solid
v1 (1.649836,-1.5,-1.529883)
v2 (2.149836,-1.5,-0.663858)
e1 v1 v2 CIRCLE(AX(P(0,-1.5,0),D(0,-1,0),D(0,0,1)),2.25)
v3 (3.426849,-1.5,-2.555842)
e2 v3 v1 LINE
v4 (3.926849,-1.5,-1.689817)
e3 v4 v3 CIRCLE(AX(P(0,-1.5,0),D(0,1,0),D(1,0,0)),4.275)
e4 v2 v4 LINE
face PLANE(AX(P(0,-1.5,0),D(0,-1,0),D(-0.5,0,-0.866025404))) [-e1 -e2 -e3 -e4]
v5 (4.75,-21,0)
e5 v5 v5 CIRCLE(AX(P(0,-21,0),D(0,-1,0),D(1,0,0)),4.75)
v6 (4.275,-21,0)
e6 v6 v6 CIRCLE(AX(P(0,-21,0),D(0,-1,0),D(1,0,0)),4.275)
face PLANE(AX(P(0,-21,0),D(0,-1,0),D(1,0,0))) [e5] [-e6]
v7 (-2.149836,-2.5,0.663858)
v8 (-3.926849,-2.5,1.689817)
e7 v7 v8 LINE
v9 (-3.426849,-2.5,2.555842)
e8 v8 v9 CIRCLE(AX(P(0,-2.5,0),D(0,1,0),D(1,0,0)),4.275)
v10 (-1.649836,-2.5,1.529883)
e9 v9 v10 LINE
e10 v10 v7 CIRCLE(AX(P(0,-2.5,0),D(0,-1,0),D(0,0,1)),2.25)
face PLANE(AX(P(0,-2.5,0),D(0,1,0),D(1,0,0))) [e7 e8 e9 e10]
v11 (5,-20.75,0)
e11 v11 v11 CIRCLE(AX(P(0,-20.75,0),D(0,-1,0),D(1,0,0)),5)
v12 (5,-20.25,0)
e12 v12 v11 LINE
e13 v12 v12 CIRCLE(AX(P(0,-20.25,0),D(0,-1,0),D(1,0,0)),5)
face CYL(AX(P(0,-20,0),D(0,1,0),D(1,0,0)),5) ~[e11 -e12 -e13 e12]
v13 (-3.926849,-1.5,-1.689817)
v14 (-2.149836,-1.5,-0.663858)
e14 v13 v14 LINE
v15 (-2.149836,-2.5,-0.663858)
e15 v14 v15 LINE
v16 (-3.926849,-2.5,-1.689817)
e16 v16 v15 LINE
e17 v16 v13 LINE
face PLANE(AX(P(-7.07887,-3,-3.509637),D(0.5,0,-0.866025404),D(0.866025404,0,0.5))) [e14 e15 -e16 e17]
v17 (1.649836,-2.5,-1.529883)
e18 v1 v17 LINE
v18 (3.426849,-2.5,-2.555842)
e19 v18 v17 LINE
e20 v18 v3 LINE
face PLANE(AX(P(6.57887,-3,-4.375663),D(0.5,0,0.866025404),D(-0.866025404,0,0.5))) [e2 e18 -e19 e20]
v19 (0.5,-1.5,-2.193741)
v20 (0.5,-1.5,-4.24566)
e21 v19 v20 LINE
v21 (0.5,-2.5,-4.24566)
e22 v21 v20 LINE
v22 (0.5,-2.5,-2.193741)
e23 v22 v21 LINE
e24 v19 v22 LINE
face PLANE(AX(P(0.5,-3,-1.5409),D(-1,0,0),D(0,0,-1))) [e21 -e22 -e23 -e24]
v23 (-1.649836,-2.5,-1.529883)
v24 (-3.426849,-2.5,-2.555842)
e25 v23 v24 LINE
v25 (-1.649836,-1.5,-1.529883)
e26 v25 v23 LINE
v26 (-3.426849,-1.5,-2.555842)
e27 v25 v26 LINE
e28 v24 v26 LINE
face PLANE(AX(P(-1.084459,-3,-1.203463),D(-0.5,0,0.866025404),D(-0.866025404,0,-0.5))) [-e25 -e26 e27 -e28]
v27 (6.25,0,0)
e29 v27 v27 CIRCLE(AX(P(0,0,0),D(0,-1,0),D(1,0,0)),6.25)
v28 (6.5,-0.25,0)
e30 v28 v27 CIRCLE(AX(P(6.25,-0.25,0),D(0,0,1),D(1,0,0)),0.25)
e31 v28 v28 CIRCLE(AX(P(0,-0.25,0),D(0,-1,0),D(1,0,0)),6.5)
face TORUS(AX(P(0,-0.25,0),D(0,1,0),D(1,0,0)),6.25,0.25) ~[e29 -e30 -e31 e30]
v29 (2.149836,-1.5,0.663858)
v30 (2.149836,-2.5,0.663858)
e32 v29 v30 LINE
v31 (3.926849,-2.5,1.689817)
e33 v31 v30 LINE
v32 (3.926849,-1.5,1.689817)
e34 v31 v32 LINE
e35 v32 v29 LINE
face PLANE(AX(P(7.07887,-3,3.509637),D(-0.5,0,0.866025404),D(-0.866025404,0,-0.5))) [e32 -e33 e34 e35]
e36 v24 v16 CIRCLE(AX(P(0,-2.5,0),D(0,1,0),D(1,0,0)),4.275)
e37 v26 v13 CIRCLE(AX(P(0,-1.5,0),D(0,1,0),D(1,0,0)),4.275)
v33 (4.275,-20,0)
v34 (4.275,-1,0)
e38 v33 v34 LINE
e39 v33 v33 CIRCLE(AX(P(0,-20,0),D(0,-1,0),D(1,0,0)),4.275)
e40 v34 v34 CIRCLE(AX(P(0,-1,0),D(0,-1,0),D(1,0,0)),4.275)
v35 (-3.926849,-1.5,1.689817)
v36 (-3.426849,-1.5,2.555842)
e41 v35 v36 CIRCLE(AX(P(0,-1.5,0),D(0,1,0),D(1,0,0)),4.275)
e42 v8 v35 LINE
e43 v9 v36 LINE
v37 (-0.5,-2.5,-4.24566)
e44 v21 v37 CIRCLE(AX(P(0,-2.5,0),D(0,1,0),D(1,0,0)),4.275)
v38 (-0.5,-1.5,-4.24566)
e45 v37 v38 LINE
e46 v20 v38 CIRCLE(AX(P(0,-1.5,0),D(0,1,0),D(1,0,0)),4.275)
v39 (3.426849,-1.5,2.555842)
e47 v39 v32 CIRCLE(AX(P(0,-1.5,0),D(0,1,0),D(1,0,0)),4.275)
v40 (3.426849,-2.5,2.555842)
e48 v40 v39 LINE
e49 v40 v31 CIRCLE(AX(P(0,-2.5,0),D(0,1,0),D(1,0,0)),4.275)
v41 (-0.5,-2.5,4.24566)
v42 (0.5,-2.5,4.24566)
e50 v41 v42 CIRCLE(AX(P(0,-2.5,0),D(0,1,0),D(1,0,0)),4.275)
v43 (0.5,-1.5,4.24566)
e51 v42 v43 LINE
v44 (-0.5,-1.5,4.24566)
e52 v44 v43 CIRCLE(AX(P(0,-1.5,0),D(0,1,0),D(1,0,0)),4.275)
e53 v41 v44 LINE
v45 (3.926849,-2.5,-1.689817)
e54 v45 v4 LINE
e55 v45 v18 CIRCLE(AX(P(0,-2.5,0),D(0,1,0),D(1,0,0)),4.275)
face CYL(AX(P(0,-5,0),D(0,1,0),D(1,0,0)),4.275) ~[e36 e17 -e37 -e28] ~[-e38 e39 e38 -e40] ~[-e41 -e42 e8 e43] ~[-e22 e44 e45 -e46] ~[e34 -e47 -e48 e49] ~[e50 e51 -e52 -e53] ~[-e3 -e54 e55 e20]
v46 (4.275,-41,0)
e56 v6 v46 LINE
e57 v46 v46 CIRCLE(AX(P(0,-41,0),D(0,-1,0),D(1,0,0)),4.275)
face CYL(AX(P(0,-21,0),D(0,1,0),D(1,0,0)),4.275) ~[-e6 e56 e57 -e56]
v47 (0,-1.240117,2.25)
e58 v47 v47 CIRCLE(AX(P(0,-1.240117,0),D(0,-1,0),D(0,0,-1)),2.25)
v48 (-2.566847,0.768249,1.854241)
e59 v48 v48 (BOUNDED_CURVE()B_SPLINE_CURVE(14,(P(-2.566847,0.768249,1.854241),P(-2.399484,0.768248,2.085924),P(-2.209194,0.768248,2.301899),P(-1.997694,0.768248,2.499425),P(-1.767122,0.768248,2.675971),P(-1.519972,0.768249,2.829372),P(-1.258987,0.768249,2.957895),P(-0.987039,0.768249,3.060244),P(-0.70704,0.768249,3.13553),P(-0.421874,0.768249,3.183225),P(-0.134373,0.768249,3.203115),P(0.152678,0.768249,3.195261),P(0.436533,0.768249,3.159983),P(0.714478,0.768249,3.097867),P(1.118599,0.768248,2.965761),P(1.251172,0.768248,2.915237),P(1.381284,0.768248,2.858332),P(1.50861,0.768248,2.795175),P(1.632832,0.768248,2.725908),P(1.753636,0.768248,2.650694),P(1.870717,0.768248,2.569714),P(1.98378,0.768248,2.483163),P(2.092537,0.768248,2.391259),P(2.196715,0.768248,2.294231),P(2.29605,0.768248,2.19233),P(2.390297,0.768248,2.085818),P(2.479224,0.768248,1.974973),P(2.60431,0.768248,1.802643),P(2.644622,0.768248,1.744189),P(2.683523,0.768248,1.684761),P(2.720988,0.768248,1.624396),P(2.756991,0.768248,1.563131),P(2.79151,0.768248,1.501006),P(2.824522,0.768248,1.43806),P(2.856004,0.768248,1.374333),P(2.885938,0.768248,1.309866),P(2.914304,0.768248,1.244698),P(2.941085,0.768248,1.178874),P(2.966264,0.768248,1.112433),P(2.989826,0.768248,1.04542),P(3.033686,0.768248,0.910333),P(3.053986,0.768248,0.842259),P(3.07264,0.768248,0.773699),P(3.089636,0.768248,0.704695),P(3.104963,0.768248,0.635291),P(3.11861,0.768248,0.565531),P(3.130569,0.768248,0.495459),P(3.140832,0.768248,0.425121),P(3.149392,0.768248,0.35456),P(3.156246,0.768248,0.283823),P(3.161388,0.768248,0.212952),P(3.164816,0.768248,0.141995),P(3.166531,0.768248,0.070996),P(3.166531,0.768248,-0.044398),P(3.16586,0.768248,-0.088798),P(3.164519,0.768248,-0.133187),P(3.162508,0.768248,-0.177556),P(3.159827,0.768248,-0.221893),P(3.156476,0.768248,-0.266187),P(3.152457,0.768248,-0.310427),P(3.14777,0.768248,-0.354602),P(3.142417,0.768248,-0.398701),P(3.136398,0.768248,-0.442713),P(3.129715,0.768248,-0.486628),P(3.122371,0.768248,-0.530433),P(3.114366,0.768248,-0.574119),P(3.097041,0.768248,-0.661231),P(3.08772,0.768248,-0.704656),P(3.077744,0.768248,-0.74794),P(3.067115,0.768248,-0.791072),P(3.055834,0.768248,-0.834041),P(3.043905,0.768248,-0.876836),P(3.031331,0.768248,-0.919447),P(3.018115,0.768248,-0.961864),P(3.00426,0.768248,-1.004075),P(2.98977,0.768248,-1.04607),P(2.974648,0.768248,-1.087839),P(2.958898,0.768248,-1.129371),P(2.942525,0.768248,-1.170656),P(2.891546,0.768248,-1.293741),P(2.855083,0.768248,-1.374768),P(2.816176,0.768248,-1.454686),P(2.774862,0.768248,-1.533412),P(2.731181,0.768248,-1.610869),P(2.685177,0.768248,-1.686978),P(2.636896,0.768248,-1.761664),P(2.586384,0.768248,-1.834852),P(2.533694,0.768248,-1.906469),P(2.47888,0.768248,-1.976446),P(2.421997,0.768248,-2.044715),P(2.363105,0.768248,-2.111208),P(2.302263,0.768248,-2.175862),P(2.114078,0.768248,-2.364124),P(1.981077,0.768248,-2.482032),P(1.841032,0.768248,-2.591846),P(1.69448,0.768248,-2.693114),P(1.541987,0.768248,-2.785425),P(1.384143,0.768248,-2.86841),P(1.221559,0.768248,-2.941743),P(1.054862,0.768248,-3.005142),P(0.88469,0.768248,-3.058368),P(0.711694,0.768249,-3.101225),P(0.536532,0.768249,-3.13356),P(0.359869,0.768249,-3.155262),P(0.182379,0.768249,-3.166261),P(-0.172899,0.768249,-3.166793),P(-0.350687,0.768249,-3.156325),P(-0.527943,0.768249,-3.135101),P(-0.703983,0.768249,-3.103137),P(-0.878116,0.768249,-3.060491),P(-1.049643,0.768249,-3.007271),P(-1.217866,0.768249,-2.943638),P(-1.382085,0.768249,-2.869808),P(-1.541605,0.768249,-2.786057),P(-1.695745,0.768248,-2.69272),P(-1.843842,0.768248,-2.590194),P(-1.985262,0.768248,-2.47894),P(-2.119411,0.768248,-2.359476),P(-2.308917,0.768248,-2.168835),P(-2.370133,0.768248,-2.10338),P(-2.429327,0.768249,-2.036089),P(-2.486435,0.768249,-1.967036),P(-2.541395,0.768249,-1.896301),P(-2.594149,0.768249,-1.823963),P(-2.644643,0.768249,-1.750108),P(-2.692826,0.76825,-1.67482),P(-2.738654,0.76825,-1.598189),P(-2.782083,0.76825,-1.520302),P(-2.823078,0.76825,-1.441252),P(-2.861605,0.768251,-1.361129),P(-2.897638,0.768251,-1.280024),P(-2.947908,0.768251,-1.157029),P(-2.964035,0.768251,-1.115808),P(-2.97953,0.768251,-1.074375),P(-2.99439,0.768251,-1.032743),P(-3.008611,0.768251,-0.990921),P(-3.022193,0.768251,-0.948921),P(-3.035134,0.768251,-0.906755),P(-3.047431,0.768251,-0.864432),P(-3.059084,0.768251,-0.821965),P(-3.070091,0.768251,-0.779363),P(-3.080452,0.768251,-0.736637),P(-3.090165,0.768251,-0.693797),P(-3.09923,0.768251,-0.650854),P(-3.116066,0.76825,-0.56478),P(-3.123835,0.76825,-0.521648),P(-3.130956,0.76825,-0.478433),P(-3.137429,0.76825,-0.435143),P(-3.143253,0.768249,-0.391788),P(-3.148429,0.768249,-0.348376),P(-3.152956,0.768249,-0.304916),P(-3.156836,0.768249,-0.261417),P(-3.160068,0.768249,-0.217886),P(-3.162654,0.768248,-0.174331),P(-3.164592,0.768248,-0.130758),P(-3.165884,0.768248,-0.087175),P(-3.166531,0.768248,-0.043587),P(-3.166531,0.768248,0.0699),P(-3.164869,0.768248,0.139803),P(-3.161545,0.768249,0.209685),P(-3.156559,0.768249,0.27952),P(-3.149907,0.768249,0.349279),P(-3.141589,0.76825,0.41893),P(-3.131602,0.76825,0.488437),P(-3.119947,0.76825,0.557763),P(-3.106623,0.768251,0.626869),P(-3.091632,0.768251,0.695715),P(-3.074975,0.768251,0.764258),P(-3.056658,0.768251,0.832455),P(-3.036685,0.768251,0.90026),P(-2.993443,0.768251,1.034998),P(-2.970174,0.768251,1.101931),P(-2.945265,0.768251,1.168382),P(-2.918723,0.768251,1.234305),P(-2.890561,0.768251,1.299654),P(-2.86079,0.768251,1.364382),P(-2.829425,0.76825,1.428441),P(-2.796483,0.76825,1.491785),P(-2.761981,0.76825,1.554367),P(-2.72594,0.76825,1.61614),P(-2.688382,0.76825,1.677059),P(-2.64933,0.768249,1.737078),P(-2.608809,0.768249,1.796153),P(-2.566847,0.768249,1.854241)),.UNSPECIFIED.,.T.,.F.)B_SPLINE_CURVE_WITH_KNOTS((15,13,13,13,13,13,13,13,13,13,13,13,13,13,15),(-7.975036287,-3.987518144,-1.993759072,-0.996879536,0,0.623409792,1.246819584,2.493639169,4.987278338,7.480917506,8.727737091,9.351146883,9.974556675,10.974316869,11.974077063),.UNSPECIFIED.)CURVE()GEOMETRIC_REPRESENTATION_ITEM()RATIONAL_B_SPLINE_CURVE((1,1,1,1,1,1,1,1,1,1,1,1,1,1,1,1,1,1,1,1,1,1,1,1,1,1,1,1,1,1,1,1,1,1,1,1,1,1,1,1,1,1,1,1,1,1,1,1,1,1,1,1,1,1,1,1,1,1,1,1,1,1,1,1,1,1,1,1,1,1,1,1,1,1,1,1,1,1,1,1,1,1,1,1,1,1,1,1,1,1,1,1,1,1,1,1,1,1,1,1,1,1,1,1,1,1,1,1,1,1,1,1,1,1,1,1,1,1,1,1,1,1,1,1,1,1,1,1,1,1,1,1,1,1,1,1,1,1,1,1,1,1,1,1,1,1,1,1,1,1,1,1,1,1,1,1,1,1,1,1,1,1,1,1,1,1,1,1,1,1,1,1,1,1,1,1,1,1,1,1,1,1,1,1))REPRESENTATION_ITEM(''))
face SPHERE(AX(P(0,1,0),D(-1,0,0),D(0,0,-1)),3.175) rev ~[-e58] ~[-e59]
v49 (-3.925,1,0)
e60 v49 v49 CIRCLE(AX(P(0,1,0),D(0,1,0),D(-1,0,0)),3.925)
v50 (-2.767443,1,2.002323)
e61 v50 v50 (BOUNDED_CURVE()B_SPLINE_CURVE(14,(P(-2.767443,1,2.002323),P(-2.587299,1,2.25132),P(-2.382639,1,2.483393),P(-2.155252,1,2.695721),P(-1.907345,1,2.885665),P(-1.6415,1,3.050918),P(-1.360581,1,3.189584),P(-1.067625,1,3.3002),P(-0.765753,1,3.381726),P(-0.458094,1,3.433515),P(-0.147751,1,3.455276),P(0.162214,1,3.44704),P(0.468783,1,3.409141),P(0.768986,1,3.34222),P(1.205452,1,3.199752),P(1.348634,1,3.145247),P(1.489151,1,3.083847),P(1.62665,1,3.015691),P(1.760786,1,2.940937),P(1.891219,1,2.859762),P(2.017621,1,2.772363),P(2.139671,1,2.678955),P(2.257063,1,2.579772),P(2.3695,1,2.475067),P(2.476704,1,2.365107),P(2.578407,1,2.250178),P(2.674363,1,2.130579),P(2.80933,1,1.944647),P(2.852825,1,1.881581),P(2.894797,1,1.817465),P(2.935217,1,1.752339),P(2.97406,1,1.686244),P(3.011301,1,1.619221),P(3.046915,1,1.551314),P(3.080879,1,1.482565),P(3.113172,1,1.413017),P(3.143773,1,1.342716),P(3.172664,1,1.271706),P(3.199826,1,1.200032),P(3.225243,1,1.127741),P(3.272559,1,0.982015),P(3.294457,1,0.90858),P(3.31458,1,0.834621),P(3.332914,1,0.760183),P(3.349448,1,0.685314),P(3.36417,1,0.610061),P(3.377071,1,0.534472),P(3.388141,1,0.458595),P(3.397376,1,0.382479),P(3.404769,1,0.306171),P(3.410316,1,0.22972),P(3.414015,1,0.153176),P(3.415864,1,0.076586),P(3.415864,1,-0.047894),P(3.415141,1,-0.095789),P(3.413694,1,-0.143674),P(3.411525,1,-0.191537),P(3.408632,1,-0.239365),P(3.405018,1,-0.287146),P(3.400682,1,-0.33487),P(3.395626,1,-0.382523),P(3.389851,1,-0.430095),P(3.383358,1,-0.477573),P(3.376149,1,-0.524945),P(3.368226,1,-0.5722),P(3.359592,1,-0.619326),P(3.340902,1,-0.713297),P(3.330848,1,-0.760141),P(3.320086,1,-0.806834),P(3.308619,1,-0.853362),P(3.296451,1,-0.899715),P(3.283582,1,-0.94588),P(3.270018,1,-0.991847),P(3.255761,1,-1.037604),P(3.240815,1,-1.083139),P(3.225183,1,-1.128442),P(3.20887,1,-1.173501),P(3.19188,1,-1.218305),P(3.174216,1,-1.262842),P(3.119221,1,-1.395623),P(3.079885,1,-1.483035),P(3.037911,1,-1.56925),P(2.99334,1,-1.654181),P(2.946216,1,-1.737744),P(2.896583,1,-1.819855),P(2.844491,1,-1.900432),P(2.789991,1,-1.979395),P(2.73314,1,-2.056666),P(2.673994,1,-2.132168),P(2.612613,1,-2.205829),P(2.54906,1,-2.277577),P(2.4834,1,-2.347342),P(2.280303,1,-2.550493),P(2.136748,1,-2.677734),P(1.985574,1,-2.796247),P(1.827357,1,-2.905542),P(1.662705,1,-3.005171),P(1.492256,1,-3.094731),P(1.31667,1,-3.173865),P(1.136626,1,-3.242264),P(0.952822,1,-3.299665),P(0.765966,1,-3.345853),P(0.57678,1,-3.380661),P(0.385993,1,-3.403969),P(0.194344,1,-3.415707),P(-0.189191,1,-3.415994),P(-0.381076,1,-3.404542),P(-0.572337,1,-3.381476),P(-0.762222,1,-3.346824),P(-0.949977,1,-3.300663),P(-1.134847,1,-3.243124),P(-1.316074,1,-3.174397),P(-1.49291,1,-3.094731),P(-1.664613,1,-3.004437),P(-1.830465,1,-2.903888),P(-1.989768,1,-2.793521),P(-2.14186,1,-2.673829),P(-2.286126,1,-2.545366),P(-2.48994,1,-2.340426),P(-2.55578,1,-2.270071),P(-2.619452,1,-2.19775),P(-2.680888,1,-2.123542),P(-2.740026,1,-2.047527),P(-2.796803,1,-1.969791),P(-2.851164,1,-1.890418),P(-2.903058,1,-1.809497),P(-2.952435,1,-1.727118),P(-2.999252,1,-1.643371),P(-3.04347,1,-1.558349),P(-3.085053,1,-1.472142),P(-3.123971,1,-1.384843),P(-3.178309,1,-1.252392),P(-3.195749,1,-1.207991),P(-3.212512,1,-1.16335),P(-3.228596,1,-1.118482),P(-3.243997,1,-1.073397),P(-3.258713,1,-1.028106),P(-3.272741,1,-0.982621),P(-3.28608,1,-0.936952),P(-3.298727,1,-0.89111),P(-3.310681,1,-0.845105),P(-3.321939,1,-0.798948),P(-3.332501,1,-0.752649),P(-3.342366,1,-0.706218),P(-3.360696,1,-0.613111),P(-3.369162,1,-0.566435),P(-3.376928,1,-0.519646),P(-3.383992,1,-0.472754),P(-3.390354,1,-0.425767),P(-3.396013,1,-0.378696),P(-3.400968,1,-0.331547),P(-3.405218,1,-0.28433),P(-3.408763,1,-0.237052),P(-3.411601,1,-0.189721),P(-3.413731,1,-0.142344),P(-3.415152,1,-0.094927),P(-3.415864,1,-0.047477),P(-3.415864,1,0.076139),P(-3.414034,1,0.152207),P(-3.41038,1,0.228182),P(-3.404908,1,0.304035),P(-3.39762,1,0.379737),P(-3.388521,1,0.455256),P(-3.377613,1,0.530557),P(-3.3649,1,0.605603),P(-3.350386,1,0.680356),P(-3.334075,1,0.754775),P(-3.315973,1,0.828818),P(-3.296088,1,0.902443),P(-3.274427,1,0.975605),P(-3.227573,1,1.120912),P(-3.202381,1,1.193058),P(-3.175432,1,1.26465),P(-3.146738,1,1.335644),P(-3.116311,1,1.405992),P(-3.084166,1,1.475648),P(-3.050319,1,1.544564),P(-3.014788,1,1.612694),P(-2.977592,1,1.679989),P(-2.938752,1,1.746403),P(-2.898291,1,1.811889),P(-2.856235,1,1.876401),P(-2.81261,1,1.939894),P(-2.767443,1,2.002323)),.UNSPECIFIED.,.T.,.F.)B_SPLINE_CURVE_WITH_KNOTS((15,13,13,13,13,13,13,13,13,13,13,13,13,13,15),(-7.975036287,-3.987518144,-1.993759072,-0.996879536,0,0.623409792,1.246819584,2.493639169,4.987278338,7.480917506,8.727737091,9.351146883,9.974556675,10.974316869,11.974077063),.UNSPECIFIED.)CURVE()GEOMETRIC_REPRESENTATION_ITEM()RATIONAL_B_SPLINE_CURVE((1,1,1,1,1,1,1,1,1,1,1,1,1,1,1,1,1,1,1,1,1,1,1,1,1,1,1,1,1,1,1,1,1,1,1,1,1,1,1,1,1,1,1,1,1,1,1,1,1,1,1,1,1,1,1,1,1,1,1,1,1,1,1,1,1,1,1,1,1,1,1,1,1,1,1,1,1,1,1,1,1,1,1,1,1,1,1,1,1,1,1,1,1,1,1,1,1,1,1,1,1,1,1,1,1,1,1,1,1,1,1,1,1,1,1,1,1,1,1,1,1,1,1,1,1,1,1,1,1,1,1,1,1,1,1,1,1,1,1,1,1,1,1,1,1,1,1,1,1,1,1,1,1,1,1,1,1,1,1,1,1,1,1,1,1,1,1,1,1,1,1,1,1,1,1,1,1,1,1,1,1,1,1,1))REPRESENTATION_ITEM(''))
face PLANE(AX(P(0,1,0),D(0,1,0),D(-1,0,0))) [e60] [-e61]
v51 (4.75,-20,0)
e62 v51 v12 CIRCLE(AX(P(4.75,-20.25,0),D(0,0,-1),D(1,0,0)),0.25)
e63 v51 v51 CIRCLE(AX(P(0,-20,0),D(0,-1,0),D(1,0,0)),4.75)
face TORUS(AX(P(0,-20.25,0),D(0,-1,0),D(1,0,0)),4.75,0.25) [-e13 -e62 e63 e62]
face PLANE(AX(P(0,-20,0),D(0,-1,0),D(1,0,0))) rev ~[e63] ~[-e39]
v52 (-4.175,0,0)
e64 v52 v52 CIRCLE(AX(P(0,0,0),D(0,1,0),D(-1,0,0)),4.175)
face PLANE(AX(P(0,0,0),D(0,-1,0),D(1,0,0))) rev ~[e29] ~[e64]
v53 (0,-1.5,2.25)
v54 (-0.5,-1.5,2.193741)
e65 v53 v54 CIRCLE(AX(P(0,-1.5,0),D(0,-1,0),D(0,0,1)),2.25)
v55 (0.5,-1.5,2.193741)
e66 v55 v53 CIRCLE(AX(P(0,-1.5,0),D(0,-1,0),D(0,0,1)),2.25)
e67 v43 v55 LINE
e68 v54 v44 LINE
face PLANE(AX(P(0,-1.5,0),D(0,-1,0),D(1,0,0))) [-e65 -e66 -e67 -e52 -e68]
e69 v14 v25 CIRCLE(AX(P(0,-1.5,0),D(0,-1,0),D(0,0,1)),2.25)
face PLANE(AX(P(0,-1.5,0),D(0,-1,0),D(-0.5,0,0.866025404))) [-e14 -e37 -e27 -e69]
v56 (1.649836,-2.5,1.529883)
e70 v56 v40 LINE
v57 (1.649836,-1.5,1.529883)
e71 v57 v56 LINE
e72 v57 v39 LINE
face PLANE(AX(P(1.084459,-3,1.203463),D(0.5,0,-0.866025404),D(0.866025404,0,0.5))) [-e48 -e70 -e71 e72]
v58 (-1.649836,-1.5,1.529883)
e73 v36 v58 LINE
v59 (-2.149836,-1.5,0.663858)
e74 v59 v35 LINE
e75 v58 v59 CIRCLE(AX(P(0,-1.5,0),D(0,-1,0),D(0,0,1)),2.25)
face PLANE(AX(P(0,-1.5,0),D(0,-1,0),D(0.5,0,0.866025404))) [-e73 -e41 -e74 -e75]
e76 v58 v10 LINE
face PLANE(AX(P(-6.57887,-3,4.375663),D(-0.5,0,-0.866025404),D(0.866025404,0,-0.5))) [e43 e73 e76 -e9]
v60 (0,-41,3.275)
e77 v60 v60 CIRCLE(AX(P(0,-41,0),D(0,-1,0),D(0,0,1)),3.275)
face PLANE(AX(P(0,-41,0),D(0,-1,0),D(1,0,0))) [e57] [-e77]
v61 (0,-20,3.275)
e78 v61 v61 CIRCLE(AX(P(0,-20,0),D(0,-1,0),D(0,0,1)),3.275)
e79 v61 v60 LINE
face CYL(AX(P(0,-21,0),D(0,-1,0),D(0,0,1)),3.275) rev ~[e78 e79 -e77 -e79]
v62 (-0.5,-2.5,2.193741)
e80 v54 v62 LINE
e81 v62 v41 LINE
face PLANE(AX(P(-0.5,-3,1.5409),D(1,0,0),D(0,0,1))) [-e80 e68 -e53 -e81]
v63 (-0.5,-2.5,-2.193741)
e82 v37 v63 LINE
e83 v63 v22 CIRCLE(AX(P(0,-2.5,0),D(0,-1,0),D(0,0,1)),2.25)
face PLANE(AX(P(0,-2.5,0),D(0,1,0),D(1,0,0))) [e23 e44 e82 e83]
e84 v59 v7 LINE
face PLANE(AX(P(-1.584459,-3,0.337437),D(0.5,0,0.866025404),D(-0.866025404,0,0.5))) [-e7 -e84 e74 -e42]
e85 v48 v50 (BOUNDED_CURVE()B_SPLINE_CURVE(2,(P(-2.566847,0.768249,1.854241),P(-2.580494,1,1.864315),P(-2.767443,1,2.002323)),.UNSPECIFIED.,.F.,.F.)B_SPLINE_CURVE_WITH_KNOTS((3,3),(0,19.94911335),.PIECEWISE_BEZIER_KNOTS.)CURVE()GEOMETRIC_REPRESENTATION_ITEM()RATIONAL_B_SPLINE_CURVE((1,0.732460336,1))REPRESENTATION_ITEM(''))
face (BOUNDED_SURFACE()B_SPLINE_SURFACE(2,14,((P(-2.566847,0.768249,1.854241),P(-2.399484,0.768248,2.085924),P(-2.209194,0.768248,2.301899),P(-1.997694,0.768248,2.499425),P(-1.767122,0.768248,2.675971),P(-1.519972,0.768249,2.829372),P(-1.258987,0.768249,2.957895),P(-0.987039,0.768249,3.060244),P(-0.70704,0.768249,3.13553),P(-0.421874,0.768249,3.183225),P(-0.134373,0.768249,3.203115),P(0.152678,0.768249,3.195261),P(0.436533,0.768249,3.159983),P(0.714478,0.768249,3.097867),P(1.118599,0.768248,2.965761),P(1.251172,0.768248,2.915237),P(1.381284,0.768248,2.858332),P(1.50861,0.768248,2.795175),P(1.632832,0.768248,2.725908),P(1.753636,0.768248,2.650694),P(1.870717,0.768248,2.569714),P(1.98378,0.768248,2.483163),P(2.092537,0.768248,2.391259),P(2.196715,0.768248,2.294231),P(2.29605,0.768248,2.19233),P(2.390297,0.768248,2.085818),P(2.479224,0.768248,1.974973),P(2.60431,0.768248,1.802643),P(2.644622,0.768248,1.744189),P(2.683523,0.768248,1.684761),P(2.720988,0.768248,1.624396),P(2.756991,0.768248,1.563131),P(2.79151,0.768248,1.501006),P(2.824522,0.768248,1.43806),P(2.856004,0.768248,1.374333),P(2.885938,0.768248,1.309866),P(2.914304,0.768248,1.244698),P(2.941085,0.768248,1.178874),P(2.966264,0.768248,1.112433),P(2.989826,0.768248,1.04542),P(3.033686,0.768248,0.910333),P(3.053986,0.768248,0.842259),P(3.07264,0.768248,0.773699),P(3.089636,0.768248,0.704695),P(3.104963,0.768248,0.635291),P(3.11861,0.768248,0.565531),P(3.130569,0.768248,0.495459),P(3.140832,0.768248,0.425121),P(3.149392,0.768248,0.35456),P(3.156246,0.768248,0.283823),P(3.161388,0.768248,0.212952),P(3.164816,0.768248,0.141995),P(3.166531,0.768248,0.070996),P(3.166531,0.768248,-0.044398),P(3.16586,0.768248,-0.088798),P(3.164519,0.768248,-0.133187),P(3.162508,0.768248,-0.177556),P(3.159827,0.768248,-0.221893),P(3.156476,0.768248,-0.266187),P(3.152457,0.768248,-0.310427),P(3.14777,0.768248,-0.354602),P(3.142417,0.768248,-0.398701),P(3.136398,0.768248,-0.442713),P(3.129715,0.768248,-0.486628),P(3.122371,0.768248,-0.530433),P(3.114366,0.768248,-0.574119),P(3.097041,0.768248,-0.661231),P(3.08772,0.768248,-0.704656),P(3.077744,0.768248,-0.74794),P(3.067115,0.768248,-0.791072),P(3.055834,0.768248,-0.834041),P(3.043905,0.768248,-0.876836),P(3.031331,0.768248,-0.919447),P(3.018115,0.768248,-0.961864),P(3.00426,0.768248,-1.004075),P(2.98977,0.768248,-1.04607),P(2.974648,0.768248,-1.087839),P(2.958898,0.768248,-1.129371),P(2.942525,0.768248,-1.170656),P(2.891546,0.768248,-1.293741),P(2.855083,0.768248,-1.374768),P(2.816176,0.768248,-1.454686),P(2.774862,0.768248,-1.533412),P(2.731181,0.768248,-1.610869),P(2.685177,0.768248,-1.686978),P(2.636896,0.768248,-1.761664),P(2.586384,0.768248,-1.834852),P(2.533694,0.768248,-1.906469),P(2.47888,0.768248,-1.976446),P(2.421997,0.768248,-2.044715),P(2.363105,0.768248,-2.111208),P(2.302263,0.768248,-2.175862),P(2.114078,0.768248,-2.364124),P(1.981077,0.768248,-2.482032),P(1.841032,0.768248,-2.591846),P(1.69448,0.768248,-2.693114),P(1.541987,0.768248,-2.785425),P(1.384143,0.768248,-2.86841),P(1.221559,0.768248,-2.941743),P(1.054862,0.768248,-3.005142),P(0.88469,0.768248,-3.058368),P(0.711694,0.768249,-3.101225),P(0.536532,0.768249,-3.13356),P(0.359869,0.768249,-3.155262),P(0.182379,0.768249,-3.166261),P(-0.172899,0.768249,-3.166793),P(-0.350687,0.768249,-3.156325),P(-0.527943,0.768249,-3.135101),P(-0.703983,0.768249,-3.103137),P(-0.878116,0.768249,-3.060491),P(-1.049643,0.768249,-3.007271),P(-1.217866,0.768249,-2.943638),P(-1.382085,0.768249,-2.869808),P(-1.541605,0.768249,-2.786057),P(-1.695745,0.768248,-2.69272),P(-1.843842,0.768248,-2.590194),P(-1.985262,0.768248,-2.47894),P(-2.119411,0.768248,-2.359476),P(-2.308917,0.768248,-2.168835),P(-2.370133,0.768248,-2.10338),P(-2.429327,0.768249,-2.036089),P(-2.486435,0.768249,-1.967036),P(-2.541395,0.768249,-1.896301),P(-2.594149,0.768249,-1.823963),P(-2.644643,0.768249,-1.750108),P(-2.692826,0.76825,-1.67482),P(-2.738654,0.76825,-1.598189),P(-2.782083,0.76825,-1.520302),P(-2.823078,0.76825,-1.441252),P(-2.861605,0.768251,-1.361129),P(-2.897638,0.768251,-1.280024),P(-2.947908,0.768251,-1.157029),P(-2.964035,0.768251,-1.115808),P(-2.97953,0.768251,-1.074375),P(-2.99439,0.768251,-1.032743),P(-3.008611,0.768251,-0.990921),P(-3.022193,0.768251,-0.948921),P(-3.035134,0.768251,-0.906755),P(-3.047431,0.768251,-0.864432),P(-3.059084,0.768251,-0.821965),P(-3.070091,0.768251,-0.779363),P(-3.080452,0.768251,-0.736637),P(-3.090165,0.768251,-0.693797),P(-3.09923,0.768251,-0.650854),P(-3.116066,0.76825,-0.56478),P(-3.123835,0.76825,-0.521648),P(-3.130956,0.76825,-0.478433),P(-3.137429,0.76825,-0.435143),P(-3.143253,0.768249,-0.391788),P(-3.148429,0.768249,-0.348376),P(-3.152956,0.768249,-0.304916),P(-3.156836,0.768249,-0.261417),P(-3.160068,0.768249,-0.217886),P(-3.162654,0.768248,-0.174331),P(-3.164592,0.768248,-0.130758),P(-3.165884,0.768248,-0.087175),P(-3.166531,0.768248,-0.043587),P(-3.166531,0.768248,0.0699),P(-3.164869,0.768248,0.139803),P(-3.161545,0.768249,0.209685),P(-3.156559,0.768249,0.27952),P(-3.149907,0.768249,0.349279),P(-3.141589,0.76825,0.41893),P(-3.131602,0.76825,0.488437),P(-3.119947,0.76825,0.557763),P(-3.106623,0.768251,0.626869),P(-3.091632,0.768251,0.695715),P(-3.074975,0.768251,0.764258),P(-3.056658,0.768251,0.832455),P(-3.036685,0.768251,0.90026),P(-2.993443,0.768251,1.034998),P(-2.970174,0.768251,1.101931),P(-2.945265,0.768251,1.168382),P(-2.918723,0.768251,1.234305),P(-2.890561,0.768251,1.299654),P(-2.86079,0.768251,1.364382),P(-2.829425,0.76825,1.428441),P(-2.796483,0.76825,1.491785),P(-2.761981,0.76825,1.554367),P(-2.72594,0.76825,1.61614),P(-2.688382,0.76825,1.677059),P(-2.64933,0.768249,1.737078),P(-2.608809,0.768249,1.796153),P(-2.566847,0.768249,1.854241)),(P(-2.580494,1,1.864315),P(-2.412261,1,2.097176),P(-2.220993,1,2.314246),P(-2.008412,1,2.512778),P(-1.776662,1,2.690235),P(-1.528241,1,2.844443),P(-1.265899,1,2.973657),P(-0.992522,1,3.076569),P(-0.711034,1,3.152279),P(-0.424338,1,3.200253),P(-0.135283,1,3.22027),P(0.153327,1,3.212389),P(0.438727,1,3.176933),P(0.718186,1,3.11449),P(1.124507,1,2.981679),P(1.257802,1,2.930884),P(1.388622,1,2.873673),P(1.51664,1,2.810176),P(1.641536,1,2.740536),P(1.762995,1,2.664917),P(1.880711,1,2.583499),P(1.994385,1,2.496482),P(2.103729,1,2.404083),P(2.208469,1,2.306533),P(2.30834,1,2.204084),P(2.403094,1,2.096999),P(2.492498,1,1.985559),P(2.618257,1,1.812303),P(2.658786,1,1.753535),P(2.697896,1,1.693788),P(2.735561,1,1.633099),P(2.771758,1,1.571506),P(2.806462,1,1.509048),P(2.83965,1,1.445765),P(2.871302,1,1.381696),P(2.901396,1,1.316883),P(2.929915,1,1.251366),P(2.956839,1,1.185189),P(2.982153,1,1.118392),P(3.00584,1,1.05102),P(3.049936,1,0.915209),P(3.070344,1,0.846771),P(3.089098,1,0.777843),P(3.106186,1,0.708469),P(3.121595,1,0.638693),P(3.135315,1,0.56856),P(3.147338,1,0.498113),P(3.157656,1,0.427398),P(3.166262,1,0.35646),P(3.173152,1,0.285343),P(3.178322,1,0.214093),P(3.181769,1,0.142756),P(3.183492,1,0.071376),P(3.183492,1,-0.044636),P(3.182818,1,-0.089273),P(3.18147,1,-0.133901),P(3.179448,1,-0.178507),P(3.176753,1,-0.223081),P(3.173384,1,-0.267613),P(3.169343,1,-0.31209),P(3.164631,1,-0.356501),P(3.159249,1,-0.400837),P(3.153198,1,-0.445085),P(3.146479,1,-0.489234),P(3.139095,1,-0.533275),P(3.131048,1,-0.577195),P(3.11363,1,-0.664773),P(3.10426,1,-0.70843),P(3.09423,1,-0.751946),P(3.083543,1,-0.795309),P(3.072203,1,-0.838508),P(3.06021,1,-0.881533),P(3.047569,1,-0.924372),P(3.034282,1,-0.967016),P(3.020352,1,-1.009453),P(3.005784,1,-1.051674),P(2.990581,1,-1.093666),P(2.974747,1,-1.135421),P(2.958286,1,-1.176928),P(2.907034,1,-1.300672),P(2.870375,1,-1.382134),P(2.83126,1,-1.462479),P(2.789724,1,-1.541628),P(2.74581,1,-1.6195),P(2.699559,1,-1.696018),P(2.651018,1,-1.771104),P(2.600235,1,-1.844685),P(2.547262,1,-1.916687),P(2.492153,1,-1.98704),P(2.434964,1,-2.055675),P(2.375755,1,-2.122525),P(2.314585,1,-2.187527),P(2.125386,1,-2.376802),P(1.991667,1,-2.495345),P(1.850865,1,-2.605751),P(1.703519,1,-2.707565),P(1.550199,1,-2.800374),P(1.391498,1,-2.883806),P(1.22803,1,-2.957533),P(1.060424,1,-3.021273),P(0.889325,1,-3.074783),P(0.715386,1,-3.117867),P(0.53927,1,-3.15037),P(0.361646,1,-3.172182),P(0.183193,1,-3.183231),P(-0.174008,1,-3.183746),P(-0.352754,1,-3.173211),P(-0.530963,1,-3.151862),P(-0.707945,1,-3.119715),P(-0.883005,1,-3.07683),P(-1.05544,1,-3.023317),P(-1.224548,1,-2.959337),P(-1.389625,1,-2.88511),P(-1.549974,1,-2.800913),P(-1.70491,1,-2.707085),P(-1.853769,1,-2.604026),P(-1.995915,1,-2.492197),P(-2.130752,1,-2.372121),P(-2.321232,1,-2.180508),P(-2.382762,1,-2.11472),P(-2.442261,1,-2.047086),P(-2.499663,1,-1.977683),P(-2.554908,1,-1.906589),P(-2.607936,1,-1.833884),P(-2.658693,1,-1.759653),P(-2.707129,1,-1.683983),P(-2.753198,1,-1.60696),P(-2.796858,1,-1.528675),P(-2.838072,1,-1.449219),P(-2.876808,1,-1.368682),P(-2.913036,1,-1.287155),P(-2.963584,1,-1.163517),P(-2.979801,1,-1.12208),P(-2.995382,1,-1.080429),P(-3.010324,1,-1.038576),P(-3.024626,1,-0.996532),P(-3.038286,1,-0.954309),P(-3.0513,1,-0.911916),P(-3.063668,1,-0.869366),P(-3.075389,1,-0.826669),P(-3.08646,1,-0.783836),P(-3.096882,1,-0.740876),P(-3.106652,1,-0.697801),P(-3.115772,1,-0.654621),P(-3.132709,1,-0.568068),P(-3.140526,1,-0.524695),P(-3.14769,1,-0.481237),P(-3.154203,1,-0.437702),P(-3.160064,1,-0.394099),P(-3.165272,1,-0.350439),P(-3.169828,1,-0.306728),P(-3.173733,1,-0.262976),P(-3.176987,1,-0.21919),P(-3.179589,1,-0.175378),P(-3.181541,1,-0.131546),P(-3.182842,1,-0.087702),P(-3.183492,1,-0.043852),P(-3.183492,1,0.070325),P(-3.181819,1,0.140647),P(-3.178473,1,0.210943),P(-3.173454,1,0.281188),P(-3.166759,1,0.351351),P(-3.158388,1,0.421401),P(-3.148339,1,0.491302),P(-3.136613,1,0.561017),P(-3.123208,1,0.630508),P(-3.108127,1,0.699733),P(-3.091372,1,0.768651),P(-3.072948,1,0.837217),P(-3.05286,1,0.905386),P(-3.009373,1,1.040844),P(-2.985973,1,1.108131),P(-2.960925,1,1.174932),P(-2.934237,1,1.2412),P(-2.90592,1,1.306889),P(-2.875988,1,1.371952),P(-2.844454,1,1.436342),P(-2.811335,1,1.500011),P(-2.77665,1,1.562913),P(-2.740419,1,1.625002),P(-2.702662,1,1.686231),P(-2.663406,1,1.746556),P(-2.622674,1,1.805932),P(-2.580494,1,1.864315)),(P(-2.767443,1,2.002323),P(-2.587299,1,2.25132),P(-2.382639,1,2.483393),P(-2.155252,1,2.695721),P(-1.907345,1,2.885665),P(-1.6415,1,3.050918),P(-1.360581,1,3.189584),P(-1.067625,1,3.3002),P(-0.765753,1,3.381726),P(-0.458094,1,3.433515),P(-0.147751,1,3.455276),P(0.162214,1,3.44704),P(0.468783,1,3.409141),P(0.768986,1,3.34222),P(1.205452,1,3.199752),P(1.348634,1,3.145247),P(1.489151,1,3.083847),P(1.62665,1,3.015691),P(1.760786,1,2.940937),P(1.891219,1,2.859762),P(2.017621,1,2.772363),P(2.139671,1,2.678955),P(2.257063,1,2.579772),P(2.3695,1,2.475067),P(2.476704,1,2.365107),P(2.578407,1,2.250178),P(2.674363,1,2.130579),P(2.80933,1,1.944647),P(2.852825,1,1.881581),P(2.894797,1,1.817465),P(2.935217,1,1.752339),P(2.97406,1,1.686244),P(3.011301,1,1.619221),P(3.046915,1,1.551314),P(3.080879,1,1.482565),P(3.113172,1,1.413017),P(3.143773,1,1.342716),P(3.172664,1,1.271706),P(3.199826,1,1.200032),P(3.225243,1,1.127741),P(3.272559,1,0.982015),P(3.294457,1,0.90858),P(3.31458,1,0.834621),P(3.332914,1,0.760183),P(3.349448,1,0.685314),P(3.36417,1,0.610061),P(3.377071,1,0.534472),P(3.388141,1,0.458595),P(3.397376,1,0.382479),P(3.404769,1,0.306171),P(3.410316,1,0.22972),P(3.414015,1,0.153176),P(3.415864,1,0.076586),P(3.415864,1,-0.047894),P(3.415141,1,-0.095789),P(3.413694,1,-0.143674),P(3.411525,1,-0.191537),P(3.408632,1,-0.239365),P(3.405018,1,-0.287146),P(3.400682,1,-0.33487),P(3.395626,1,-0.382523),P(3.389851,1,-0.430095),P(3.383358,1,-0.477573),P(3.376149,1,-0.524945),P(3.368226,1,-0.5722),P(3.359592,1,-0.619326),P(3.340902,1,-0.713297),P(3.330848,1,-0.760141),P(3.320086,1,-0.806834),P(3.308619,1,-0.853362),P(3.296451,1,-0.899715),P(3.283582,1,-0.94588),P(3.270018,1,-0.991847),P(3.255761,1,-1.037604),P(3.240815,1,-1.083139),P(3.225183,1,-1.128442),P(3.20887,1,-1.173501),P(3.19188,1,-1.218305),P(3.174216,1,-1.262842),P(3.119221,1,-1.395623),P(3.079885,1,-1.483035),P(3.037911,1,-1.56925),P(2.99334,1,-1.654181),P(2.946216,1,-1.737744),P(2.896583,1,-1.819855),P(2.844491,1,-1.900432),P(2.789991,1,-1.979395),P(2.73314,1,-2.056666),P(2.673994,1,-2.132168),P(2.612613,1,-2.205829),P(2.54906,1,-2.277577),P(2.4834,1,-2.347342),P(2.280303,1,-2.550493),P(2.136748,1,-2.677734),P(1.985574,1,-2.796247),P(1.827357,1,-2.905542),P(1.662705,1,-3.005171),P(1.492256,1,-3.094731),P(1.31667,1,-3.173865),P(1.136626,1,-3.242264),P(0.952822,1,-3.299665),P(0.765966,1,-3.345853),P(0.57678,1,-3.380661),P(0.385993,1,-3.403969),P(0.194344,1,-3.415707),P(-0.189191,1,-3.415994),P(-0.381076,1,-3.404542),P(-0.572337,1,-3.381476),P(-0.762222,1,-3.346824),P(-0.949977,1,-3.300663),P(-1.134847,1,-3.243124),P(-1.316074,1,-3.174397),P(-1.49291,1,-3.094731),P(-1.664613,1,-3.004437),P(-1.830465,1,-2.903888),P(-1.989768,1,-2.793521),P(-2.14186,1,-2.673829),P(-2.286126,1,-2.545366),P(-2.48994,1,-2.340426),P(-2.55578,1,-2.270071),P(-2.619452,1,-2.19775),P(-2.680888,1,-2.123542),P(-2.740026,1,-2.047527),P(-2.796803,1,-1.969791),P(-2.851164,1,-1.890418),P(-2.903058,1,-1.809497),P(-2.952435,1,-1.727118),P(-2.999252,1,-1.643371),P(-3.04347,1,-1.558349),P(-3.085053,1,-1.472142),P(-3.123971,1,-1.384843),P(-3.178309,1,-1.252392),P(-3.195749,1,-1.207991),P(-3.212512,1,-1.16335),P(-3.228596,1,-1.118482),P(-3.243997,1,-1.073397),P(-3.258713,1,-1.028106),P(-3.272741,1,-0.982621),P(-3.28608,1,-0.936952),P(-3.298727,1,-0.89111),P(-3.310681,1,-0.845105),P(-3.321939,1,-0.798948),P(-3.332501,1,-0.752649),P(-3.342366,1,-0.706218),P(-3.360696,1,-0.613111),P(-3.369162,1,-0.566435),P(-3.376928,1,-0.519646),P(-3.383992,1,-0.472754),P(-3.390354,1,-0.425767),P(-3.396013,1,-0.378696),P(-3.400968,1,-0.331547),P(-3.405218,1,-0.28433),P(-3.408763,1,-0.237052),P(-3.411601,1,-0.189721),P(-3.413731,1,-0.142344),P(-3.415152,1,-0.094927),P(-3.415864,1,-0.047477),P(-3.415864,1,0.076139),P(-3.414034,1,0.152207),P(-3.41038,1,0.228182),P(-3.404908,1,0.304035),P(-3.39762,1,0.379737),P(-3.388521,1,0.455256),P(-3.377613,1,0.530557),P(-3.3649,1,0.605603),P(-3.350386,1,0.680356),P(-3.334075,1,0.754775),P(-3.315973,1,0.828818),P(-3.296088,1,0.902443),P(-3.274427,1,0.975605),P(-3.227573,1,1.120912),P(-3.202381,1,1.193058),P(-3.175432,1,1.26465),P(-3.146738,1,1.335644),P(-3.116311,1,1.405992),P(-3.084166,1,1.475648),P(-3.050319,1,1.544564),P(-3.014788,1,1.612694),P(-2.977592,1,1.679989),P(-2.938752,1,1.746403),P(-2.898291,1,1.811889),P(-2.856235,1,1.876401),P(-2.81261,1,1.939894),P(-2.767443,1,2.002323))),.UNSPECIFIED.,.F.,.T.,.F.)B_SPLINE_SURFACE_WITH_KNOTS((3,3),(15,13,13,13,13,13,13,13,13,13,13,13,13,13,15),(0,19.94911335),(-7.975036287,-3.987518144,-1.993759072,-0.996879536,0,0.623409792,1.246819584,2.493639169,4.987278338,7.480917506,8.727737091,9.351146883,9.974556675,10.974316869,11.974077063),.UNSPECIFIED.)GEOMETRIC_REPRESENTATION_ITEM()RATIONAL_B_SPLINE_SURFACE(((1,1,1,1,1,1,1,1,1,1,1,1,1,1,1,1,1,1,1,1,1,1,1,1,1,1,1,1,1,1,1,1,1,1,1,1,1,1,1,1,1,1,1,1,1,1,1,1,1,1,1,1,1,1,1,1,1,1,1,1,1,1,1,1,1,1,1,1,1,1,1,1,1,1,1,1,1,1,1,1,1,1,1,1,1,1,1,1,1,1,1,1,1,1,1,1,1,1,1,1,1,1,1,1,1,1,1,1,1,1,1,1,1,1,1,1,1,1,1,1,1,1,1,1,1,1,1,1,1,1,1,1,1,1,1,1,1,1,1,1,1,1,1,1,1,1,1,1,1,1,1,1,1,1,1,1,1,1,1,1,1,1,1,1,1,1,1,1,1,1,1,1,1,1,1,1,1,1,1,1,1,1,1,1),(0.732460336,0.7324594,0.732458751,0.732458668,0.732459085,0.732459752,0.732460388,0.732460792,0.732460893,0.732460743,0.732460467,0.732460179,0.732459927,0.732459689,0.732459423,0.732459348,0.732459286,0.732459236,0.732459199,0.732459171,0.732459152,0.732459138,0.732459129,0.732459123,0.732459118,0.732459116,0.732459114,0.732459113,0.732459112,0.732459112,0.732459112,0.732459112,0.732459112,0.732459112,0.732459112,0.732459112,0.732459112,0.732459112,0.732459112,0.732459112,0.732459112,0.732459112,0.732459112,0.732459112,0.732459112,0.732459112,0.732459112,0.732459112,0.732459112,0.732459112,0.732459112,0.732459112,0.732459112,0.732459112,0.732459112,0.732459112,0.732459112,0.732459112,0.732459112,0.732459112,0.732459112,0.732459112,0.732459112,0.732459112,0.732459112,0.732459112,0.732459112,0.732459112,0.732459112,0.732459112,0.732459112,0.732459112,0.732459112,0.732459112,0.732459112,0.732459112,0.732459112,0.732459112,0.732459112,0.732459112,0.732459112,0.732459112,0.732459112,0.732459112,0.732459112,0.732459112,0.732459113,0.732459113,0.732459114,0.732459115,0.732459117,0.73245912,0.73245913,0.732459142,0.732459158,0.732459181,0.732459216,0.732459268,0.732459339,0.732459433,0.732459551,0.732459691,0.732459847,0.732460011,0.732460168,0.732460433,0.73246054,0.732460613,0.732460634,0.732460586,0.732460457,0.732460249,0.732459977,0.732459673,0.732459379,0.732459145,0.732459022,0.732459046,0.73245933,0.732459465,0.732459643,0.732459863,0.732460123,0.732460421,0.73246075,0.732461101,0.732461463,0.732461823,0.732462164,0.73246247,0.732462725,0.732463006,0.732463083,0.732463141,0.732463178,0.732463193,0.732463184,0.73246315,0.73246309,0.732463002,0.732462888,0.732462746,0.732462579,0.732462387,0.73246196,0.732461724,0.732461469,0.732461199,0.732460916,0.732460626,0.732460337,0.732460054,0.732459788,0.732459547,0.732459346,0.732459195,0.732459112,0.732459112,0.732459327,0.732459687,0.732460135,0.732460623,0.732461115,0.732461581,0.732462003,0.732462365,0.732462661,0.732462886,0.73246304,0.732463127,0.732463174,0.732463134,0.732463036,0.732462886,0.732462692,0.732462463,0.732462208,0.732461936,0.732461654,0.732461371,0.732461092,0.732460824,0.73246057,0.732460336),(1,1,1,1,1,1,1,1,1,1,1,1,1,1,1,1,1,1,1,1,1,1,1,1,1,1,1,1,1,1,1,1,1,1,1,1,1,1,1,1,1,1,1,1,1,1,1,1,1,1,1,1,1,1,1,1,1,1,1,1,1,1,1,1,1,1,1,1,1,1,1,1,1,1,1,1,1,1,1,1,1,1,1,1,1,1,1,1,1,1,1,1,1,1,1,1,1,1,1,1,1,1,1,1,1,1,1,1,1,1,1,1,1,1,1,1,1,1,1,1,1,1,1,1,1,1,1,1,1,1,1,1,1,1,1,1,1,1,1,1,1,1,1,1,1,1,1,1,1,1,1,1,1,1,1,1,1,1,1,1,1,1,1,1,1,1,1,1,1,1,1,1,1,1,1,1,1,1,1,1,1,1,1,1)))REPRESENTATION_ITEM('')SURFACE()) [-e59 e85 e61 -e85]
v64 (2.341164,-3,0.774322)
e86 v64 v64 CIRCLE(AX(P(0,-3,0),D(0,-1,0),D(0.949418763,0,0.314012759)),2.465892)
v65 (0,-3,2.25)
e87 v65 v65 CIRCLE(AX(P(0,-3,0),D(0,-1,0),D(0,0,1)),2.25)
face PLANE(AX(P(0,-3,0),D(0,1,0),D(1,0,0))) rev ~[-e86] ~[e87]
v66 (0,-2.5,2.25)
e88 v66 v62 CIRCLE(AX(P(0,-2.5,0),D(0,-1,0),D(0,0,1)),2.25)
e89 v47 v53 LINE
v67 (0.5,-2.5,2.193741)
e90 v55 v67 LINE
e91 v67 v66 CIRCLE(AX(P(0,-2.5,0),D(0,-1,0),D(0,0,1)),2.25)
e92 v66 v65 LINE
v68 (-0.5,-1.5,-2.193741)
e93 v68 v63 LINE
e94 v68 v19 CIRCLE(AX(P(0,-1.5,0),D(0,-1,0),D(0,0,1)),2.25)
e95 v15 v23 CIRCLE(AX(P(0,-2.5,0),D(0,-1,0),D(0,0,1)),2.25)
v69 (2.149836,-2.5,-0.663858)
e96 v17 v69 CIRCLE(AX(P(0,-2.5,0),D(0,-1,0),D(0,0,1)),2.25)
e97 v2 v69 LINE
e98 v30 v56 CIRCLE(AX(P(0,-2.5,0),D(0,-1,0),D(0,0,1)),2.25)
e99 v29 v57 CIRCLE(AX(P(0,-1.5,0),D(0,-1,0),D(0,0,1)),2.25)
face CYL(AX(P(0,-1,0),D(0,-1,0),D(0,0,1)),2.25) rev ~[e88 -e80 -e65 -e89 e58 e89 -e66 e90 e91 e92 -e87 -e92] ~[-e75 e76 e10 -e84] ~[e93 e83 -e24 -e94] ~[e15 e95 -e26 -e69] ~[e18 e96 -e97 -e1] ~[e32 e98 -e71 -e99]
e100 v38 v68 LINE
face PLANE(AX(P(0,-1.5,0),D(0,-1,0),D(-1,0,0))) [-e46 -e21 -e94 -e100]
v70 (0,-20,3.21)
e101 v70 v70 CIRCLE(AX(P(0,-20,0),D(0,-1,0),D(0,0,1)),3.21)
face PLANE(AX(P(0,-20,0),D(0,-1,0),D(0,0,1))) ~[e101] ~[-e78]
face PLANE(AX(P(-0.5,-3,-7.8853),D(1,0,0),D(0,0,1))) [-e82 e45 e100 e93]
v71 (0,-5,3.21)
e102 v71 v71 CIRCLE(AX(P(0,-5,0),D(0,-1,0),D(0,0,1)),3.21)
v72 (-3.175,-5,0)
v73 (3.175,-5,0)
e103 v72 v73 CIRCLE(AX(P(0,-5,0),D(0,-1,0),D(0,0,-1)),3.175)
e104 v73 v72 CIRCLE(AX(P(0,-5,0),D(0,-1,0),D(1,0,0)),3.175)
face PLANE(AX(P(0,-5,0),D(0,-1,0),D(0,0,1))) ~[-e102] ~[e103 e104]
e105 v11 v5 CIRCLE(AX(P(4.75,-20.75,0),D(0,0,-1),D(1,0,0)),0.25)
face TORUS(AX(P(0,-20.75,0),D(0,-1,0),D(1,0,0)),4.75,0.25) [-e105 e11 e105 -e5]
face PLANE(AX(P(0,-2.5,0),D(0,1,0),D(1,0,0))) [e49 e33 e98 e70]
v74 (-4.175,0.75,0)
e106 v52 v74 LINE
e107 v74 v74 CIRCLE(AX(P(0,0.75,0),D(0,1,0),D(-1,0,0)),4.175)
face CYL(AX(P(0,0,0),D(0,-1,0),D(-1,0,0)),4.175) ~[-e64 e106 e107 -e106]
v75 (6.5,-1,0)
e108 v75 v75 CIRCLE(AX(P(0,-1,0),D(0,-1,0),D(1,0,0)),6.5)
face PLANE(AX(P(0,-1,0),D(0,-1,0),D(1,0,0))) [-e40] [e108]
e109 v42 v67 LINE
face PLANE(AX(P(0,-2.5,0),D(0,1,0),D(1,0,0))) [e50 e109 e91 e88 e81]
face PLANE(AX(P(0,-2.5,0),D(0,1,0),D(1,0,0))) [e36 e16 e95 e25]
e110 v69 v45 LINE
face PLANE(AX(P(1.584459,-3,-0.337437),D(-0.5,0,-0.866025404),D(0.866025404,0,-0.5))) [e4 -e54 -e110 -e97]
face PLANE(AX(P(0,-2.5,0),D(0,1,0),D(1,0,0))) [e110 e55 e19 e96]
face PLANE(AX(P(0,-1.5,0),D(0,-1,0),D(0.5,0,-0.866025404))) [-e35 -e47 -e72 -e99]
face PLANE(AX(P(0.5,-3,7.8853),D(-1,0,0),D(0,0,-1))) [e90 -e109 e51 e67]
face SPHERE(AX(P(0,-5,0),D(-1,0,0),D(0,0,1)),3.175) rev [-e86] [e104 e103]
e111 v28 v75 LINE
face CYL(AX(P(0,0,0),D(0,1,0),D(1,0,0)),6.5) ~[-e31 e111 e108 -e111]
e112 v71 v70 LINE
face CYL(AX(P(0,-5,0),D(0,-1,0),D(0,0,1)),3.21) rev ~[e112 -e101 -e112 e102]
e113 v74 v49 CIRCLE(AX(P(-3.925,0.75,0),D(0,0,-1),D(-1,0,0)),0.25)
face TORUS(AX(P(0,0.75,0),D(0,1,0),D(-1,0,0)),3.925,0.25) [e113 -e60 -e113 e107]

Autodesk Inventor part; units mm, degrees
ref_plane "YZ Plane" through (0, 0, 0) normal (1, 0, 0) x (0, 1, 0)
ref_plane "XZ Plane" through (0, 0, 0) normal (0, 1, 0) x (-1, 0, 0)
sketch "Sketch1" plane through (0, 0, 0) normal (0, 1, 0) x (-1, 0, 0)
  circle A0 centre (0, 0) radius 4.175
  dimension "d0" = 8.35
extrude "Extrusion1" add sketch "Sketch1" along normal blind 1
sketch "Sketch2" plane through (0, 0, 0) normal (0, -1, 0) x (1, 0, 0)
  circle A0 centre (0, 0) radius 6.5
  dimension "d3" = 13
extrude "Extrusion2" add sketch "Sketch2" along normal blind 1
sketch "Sketch4" plane through (0, -1, 0) normal (0, -1, 0) x (1, 0, 0)
  circle A0 centre (0, 0) radius 4.275
  dimension "d58" = 8.55
extrude "Extrusion3" add sketch "Sketch4" along normal blind 2
ref_plane "Work Plane1" through (0, -1, 0) normal (0, 1, 0) x (1, 0, 0)
sketch "Sketch5" plane through (0, -1, 0) normal (0, 1, 0) x (1, 0, 0)
  point P0 (0, 0)
  point P1 (0, 0)
hole "Hole1" at (0, -1, 0) direction (0, -1, 0) diameter 4.5 depth 391.2125 tip angle 118
sketch "Sketch6" plane through (0, -3, 0) normal (0, -1, 0) x (1, 0, 0)
  line L0 (-0.5, 7.8853) -> (0.5, 7.8853)
  line L1 (0.5, 7.8853) -> (0.5, 1.5409)
  line L2 (0.5, 1.5409) -> (-0.5, 1.5409)
  line L3 (-0.5, 1.5409) -> (-0.5, 7.8853)
  line L4 (-0.5, 7.8853) -> (0.5, 1.5409) construction
  line L5 (0.5, 7.8853) -> (-0.5, 1.5409) construction
  point P0 (0, 0)
  point P1 (0, 4.7131)
  dimension "d17" = 1
extrude "Extrusion4" cut sketch "Sketch6" against normal blind 1.5
pattern_circular "Circular Pattern1" count 6 over 360 about axis through (0, -10, 0) along (0, 1, 0) of "Extrusion4"
sketch "Sketch7" plane through (0, -3, 0) normal (0, -1, 0) x (1, 0, 0)
  circle A0 centre (0, 0) radius 4.275
  dimension "d56" = 8.55
extrude "Extrusion5" add sketch "Sketch7" along normal blind 2
sketch "Sketch8" plane through (0, -5, 0) normal (0, -1, 0) x (1, 0, 0)
  circle A0 centre (0, 0) radius 3.175
  line L0 (-3.175, 0) -> (3.175, 0)
  dimension "d25" = 6.35
revolve "Revolution2" cut sketch "Sketch8" angle 360 about axis through (-3.175, -5, 0) along (1, 0, 0) picked at (0.7922, 0.7018) contours L0 A0
sketch "Sketch9" plane through (0, 1, 0) normal (0, 1, 0) x (1, 0, 0)
  circle A0 centre (0, 0) radius 3.175
  circle A1 centre (0, 0) radius 3.175 projected
  line L0 (3.175, 0) -> (-3.175, 0)
revolve "Revolution3" cut sketch "Sketch9" angle 360 about axis through (3.175, 1, 0) along (-1, 0, 0) picked at (0.7922, 0.7018) contours L0 A0
sketch "Sketch10" plane through (0, -5, 0) normal (0, -1, 0) x (1, 0, 0)
  circle A0 centre (0, 0) radius 4.275
  dimension "d57" = 8.55
extrude "Extrusion6" add sketch "Sketch10" along normal blind 15
sketch "Sketch11" plane through (0, -5, 0) normal (0, 1, 0) x (1, 0, 0)
  point P0 (0, 0)
  point P1 (0, 0)
hole "Hole2" at (0, -5, 0) direction (0, -1, 0) diameter 6.42 depth 391.2125 tip angle 118
sketch "Sketch12" plane through (0, -20, 0) normal (0, -1, 0) x (1, 0, 0)
  circle A0 centre (0, 0) radius 5
  dimension "d37" = 10
extrude "Extrusion7" add sketch "Sketch12" along normal blind 1
sketch "Sketch13" plane through (0, -20, 0) normal (0, 1, 0) x (1, 0, 0)
  point P0 (0, 0)
  point P1 (0, 0)
hole "Hole3" at (0, -20, 0) direction (0, -1, 0) diameter 6.55 depth 391.2125 tip angle 118
sketch "Sketch14" plane through (0, -21, 0) normal (0, -1, 0) x (1, 0, 0)
  circle A0 centre (0, 0) radius 4.275
  dimension "d59" = 8.55
extrude "Extrusion8" add sketch "Sketch14" along normal blind 20
sketch "Sketch15" plane through (0, -21, 0) normal (0, 1, 0) x (1, 0, 0)
  point P0 (0, 0)
  point P1 (0, 0)
hole "Hole4" at (0, -21, 0) direction (0, -1, 0) diameter 6.55 depth 391.2125 tip angle 118
fillet "Fillet1" radius 0.25 3 edges at (0, 1, -3.175) (0, 1, 3.175) (4.175, 1, 0)
sketch "Sketch16" plane through (0, -3, 0) normal (0, 1, 0) x (1, 0, 0)
  circle A0 centre (0, 0) radius 4.275
  dimension "d70" = 8.55
extrude "Extrusion9" add sketch "Sketch16" along normal blind 0.5
sketch "Sketch17" plane through (0, -2.5, 0) normal (0, 1, 0) x (1, 0, 0)
  point P0 (0, 0)
  point P1 (0, 0)
hole "Hole5" at (0, -2.5, 0) direction (0, -1, 0) diameter 4.5 depth 391.2125 tip angle 118
fillet "Fillet2" radius 0.25 2 edges at (-5, -21, 0) (-5, -20, 0)
fillet "Fillet3" radius 0.25 1 edges at (-6.5, 0, 0)
properties part number "inner_chamber_v9"
